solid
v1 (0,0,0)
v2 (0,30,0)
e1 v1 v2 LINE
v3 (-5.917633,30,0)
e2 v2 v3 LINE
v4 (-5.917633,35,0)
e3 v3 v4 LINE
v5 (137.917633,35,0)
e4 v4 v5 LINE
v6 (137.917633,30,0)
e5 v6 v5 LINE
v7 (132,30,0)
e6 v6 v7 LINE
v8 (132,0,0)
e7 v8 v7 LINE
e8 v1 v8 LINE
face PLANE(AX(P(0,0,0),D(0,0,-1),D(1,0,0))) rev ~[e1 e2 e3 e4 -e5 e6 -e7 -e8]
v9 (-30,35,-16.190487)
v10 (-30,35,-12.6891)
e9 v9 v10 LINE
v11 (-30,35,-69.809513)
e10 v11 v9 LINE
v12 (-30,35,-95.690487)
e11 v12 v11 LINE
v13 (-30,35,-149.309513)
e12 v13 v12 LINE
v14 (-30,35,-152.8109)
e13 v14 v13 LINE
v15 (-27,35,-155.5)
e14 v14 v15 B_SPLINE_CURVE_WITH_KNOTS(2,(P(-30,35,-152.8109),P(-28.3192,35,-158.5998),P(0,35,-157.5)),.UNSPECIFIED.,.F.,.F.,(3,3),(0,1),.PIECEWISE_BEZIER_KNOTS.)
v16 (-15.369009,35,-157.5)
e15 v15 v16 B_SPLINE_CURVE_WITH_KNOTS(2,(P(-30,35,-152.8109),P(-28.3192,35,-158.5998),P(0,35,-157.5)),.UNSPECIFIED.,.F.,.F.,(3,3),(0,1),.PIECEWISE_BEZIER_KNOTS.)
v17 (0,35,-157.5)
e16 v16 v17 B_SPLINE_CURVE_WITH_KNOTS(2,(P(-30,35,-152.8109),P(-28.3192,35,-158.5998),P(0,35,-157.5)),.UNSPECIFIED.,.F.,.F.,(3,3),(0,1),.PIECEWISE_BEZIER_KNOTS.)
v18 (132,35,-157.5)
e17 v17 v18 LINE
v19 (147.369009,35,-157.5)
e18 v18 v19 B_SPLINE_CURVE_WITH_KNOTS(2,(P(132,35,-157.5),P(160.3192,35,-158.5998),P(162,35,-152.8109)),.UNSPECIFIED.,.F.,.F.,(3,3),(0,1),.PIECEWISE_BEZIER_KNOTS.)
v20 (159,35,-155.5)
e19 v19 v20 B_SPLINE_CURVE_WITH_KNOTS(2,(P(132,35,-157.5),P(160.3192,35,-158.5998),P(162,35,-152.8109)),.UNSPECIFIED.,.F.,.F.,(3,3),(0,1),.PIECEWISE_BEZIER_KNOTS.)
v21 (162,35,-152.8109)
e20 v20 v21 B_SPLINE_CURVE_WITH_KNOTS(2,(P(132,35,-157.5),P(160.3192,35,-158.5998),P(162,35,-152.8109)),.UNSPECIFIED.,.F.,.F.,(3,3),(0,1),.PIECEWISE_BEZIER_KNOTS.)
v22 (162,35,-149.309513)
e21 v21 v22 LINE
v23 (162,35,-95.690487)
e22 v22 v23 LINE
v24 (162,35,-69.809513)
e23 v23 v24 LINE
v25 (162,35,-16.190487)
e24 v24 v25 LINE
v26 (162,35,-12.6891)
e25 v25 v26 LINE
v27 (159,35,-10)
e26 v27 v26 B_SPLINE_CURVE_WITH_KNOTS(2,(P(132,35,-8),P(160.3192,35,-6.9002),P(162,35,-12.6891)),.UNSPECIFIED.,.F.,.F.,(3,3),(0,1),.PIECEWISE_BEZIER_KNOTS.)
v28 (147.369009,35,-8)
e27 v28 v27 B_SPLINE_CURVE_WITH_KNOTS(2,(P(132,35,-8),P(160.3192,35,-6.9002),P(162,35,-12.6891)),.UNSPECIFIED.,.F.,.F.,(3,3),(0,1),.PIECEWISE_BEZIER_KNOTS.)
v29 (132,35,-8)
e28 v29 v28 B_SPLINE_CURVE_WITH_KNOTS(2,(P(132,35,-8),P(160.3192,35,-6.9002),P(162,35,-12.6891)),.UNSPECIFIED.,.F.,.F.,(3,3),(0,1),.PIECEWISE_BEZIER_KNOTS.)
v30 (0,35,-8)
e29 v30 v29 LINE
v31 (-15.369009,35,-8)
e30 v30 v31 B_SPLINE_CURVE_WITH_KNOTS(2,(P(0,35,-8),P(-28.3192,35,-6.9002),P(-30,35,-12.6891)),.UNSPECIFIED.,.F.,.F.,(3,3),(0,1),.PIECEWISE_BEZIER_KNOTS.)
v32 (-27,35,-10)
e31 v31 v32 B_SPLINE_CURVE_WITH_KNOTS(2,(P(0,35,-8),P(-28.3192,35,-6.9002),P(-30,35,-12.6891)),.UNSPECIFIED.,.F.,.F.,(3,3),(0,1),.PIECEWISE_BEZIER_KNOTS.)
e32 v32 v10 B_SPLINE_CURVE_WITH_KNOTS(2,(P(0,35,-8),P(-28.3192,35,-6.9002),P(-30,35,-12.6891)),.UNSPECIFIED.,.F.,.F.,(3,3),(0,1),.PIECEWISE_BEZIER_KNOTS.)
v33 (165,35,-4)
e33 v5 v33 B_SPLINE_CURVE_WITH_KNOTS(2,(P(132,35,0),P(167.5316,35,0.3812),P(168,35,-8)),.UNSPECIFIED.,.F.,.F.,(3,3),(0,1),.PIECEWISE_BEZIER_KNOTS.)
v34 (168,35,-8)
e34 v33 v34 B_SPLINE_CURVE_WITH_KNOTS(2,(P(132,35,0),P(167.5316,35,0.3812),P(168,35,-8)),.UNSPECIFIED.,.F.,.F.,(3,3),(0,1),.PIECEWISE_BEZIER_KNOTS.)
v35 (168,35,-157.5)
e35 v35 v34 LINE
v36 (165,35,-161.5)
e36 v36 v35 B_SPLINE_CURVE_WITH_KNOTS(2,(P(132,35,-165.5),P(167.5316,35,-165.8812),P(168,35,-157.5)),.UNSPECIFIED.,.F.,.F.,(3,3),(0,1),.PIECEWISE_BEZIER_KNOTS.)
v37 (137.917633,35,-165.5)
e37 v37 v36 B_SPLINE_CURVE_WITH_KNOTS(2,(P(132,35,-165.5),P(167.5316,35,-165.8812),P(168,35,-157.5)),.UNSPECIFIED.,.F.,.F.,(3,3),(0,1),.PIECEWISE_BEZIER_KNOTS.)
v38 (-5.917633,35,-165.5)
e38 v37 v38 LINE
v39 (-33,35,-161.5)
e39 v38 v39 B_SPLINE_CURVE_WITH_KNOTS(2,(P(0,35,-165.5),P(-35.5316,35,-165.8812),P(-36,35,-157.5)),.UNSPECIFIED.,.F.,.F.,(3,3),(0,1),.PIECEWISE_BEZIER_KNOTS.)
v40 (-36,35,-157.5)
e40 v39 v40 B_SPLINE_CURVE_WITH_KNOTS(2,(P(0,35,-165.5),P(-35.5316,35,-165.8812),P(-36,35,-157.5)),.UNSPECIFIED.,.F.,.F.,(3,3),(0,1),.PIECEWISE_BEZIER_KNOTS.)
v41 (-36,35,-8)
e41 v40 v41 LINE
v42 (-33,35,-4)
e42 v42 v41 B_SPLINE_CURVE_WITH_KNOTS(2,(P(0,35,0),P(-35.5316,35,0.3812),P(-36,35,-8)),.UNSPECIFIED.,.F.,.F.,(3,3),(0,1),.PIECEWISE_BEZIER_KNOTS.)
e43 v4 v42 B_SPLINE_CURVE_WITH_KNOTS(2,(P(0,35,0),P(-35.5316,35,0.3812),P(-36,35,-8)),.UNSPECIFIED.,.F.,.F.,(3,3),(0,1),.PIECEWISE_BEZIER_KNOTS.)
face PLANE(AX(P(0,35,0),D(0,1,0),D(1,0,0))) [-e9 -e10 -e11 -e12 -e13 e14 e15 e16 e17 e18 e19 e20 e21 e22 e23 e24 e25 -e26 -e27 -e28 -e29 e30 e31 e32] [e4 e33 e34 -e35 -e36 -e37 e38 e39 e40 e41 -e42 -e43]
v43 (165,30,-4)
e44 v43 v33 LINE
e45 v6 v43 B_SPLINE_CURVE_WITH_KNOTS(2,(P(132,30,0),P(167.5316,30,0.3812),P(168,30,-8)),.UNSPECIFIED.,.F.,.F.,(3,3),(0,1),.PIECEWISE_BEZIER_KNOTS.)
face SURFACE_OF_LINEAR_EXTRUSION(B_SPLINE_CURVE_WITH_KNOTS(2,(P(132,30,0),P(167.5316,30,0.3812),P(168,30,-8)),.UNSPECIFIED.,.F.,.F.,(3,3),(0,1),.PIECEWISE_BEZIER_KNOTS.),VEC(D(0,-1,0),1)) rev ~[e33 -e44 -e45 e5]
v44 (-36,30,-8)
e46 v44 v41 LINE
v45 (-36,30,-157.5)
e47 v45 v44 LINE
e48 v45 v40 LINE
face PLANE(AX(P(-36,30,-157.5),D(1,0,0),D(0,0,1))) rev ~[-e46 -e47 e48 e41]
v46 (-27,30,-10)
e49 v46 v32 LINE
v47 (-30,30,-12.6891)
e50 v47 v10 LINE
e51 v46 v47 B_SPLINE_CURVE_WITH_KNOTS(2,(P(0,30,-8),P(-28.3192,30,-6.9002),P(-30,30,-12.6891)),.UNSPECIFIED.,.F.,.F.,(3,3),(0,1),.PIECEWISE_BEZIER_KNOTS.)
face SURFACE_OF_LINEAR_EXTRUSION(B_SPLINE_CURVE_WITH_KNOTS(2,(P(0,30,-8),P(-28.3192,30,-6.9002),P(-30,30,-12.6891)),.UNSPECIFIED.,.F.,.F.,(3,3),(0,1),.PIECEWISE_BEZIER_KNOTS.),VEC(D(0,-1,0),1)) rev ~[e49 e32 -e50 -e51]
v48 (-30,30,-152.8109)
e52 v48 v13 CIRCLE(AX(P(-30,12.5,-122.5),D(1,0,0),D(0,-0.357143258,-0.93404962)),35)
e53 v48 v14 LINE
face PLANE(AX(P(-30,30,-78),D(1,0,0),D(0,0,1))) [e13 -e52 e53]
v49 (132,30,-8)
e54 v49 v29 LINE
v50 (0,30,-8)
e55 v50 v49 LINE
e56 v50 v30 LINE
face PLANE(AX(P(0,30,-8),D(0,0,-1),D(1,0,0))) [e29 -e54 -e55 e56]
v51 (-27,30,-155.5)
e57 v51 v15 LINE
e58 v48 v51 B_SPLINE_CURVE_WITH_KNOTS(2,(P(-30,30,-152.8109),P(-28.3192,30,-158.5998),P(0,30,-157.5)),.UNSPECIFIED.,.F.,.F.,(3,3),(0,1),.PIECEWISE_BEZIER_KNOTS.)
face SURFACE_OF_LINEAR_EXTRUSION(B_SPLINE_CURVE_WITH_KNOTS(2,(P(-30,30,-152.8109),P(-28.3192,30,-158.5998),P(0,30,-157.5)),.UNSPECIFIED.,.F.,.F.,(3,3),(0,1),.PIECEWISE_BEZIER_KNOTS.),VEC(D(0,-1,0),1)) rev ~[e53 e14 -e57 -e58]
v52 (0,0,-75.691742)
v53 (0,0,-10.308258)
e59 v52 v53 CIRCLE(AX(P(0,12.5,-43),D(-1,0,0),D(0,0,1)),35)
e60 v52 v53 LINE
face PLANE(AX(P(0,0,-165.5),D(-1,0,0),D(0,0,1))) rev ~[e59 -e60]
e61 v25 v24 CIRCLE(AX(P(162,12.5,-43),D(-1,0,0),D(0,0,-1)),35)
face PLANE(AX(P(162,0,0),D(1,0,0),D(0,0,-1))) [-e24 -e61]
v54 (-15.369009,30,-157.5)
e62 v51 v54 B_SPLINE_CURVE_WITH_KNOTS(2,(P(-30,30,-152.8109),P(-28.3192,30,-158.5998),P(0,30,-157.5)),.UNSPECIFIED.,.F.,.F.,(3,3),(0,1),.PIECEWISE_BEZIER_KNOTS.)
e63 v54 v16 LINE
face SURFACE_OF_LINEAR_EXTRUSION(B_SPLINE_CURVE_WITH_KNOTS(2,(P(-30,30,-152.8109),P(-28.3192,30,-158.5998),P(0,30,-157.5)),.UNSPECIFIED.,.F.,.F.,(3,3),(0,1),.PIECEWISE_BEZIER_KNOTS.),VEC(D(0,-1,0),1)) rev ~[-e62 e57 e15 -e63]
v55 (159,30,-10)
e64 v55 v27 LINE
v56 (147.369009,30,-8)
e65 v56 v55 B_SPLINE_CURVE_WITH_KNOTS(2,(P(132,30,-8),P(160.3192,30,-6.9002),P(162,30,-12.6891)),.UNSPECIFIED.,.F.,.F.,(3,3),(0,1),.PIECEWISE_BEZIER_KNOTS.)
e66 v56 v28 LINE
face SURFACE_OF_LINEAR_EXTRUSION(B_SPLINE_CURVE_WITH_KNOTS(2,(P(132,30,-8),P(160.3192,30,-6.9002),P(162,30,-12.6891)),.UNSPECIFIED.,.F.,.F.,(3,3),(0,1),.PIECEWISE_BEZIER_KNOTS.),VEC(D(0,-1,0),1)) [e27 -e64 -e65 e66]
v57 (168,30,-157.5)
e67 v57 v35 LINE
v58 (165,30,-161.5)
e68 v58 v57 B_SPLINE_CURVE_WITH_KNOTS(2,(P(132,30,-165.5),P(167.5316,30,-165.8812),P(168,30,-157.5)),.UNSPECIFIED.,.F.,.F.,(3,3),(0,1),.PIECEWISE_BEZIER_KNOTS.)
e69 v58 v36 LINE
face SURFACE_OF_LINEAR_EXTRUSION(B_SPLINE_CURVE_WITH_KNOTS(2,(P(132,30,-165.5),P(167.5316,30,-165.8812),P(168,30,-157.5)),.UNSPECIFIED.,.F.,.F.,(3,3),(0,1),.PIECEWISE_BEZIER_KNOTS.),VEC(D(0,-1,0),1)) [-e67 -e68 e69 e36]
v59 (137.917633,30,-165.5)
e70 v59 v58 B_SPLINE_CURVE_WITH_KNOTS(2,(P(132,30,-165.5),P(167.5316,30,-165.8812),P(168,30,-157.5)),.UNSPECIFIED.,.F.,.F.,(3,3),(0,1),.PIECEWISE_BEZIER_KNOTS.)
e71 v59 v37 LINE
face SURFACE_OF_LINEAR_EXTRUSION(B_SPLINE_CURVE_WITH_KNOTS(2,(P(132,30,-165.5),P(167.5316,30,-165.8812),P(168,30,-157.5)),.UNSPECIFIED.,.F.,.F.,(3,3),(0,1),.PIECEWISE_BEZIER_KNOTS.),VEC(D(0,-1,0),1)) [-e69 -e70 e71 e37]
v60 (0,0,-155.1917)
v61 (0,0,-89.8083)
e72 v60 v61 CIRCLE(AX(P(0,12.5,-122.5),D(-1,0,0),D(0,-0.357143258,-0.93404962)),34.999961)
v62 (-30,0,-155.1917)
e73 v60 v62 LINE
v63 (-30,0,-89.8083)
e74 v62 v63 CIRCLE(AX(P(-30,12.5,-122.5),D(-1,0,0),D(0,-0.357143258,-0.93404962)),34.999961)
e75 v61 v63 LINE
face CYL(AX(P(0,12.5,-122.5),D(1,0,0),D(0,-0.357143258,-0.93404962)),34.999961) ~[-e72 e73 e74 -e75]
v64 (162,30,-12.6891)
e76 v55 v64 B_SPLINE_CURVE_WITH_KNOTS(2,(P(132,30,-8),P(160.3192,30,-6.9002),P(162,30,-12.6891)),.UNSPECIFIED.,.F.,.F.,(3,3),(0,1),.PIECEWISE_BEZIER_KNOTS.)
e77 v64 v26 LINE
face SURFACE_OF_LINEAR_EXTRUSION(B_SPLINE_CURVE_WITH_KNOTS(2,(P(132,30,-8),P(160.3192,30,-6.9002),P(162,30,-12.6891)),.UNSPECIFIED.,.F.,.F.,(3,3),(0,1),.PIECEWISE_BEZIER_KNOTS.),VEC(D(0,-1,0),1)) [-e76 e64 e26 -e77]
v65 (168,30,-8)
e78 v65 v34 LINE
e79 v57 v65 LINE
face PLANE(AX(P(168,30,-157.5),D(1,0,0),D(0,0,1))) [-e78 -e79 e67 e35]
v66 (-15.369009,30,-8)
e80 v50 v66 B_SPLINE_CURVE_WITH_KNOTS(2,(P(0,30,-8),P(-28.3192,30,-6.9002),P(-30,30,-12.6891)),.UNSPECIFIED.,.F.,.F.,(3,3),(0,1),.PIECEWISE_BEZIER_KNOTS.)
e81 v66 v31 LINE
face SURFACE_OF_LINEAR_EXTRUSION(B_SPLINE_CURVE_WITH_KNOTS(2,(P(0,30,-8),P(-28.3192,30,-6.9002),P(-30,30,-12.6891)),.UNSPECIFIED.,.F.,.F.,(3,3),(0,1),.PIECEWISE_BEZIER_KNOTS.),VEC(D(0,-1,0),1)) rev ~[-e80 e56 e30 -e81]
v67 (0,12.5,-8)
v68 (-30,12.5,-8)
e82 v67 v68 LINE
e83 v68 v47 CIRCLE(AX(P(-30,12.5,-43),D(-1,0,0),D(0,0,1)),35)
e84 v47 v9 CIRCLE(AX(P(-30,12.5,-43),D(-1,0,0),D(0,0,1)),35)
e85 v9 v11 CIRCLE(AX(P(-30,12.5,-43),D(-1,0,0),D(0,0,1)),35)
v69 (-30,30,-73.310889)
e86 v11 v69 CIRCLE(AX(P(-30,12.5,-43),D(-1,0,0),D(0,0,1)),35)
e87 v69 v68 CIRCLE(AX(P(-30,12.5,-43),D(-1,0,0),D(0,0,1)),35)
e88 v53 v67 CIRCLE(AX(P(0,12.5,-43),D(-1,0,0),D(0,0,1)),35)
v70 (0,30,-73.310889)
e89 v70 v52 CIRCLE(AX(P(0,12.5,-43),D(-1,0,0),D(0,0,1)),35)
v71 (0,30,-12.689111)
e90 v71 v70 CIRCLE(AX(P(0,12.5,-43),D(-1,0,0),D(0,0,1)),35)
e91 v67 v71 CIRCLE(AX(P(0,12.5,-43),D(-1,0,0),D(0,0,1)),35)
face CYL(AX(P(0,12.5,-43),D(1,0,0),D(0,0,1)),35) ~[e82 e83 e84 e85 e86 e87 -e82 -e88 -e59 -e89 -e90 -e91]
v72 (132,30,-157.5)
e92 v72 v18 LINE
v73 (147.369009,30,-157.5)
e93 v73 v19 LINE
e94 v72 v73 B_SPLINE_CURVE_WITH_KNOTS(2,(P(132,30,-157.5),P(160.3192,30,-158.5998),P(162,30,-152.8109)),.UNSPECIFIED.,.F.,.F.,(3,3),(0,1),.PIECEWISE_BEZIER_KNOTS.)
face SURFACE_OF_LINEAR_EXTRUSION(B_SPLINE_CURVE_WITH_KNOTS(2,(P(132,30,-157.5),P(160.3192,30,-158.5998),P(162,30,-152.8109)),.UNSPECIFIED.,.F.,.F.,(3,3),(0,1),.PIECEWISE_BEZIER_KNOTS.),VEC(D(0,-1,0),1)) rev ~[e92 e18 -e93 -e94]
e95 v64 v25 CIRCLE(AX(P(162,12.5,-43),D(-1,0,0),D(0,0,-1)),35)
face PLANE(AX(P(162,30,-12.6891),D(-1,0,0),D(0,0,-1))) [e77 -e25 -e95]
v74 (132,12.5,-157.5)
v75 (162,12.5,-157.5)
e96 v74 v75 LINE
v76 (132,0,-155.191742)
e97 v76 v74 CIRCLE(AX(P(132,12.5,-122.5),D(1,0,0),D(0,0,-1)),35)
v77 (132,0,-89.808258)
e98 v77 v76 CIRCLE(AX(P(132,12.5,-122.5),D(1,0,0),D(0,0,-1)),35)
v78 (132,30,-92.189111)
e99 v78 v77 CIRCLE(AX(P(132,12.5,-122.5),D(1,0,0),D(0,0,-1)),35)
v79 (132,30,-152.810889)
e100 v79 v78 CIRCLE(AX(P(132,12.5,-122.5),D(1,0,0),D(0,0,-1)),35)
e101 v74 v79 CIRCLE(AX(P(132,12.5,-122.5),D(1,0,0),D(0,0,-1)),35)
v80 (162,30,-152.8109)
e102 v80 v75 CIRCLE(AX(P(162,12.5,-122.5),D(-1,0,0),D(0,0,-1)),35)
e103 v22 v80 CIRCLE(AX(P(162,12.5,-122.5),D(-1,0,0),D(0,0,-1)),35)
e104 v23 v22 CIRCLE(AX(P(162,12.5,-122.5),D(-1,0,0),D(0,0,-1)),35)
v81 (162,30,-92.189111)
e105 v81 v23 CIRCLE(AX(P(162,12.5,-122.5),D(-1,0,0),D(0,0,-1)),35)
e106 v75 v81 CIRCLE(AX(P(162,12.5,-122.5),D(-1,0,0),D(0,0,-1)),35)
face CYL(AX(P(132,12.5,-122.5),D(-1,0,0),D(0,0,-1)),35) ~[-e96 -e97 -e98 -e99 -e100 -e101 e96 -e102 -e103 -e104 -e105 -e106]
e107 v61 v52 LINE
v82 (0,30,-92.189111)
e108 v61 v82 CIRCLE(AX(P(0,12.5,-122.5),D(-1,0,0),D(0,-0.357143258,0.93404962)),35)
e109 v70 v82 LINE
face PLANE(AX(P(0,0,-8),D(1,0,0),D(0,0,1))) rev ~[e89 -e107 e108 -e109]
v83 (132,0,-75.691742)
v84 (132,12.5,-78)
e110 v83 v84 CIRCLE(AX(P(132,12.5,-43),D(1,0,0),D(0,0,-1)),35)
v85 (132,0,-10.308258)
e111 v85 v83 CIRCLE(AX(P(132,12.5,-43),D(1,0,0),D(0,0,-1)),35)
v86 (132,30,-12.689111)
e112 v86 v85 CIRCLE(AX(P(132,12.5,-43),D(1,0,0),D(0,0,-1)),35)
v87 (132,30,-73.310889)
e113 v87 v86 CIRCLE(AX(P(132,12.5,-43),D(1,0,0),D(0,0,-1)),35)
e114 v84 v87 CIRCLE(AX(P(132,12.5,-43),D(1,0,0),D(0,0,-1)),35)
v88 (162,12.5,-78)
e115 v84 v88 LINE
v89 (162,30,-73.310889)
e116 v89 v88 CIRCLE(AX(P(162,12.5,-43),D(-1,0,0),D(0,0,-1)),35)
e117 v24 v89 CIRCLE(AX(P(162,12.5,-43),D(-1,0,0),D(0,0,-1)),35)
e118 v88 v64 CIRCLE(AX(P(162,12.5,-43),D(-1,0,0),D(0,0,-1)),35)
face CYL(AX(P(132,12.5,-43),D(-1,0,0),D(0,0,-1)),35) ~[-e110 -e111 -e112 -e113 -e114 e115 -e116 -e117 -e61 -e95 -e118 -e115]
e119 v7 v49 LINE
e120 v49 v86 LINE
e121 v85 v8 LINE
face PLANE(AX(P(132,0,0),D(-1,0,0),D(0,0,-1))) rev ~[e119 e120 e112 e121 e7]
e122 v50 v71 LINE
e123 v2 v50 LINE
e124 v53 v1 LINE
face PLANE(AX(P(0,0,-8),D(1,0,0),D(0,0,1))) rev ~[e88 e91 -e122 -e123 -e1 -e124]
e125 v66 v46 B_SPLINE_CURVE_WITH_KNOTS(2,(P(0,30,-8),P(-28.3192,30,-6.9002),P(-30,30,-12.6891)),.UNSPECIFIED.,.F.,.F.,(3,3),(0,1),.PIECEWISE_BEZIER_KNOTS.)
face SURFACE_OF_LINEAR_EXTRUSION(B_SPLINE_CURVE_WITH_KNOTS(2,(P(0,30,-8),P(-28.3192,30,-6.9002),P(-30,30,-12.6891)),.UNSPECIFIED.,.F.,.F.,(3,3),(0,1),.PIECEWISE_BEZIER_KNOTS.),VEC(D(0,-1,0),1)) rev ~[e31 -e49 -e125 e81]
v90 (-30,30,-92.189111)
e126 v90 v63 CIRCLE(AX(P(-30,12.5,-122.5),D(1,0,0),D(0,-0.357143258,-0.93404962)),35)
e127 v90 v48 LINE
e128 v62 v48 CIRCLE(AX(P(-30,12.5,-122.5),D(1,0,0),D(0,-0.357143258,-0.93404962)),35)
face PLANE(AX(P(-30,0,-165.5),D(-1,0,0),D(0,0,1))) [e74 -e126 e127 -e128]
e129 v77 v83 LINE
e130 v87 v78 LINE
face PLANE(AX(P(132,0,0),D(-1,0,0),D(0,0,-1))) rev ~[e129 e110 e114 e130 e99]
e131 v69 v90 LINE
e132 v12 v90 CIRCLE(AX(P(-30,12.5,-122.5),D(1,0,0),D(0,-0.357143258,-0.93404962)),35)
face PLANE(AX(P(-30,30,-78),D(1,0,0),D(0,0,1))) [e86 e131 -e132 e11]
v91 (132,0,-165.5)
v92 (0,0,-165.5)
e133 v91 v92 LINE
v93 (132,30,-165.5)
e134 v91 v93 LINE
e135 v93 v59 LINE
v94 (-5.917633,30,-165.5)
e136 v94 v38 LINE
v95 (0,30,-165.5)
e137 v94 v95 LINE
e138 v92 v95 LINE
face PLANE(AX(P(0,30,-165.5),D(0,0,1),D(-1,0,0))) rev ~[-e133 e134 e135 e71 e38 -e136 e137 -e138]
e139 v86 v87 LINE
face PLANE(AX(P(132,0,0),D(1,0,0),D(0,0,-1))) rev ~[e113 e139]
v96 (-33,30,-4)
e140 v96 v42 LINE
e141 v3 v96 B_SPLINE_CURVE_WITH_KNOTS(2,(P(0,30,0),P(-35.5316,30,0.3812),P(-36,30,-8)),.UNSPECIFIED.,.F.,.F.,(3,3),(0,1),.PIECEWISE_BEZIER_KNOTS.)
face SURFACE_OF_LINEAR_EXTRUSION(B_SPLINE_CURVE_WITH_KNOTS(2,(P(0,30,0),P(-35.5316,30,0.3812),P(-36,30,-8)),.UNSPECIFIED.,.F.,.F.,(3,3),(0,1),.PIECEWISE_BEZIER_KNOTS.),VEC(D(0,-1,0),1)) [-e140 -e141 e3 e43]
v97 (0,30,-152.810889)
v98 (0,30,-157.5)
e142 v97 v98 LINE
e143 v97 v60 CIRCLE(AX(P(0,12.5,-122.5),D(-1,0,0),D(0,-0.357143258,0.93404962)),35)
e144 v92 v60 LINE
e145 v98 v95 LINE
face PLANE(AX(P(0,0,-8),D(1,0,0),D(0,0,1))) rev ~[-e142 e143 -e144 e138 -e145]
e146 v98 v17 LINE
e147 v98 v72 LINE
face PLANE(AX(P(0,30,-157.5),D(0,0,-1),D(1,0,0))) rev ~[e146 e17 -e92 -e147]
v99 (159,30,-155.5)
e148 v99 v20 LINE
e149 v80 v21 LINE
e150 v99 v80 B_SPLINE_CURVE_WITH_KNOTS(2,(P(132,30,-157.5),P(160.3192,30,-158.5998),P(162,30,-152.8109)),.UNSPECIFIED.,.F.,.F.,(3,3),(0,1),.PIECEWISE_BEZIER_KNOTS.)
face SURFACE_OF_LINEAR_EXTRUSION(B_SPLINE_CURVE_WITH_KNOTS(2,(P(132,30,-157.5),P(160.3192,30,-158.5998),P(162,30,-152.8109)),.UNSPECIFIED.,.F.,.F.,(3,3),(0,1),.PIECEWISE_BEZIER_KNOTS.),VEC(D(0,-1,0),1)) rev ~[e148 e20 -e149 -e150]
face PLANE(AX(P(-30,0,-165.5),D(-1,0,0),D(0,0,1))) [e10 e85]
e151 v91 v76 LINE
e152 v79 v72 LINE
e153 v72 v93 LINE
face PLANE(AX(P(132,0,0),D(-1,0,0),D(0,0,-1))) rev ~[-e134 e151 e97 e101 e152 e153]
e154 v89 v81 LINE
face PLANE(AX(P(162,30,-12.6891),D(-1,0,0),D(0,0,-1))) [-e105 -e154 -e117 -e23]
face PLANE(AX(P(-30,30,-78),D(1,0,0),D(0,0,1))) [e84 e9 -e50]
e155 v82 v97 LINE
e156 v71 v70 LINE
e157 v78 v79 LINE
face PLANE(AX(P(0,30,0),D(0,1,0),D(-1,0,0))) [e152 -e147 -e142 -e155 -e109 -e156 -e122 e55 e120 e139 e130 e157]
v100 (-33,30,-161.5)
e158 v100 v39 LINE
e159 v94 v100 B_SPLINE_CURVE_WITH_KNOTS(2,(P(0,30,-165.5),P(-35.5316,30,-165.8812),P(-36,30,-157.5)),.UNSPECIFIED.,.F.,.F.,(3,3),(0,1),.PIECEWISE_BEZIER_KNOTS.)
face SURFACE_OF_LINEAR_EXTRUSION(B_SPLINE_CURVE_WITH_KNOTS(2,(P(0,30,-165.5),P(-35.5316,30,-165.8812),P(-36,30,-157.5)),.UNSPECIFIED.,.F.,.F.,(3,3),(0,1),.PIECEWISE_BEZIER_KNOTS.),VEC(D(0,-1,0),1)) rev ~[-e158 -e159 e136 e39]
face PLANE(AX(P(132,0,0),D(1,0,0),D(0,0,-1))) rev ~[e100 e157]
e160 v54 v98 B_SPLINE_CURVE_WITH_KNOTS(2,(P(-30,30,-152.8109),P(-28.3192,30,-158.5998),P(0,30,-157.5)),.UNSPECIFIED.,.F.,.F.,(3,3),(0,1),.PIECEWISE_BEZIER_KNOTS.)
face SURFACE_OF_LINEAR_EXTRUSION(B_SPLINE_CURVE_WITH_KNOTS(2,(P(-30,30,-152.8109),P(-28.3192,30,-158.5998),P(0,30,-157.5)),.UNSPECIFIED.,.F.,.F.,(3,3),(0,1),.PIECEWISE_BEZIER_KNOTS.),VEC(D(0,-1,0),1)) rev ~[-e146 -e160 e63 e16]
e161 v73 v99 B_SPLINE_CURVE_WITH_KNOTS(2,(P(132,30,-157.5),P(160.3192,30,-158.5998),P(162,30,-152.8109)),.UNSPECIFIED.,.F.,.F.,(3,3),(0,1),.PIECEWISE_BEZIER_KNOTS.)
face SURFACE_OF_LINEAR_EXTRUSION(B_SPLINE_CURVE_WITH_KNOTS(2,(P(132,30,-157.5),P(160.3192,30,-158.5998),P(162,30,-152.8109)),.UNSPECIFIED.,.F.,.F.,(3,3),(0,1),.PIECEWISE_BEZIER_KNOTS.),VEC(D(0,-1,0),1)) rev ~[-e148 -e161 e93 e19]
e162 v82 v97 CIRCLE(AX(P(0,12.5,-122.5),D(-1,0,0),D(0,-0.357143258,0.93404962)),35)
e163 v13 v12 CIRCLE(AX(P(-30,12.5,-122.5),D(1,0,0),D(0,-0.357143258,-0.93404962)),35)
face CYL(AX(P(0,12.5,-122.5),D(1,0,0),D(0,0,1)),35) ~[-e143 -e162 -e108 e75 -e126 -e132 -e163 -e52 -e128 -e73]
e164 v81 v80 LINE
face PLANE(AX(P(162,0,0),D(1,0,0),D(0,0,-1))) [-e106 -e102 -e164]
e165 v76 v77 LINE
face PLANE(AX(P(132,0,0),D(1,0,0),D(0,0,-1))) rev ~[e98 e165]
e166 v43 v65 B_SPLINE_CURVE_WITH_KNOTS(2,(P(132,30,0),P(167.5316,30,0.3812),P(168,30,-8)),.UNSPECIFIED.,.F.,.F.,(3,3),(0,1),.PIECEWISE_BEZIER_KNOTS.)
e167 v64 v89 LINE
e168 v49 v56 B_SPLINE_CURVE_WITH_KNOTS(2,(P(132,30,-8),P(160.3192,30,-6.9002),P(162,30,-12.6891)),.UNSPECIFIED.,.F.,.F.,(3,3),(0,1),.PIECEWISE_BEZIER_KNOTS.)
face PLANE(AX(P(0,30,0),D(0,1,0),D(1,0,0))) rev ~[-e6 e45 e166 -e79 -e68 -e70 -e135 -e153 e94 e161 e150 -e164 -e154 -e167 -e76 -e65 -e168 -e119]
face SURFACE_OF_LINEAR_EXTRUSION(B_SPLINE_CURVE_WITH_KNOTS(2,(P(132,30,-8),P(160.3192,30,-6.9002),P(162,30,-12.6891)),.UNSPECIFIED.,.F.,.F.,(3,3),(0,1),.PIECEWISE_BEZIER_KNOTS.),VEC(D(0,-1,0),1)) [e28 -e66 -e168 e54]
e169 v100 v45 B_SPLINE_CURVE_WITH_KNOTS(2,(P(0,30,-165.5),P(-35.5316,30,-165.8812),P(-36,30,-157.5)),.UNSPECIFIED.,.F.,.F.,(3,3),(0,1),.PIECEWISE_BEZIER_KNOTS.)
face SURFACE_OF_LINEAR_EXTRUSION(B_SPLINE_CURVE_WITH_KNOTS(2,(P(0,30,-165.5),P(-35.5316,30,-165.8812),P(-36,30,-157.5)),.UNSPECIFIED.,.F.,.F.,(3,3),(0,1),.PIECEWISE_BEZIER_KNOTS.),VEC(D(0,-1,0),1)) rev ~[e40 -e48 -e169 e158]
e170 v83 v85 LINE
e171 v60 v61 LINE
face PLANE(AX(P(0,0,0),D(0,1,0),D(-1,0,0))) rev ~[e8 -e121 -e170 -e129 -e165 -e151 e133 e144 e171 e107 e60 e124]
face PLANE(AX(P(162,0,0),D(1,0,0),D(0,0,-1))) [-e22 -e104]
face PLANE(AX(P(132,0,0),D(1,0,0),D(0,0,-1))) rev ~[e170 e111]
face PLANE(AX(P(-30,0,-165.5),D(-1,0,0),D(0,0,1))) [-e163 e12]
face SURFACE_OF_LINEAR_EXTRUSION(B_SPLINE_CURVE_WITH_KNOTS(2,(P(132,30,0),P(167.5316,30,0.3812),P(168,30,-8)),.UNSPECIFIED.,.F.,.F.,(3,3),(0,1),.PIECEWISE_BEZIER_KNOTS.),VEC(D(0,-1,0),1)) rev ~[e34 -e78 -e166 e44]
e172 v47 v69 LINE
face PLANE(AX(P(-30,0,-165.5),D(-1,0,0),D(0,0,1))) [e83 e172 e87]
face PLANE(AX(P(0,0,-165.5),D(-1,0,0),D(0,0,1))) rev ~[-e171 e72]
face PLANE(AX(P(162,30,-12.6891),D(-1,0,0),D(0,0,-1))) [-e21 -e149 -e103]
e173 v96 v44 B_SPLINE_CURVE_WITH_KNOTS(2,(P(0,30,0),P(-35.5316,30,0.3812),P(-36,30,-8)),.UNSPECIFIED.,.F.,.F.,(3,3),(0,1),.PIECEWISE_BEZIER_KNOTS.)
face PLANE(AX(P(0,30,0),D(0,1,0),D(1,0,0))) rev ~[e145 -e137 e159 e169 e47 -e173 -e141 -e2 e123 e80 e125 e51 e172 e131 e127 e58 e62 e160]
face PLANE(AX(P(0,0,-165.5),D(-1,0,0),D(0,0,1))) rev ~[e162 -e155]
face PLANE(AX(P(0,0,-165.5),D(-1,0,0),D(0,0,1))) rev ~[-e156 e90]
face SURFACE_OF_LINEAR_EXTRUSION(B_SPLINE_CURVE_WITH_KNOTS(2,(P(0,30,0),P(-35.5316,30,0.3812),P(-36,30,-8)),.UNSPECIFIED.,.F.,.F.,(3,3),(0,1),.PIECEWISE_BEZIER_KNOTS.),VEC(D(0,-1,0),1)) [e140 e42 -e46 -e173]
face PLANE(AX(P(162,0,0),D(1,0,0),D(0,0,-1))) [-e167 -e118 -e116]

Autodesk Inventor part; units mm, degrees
ref_plane "YZ Plane" through (0, 0, 0) normal (1, 0, 0) x (0, 1, 0)
ref_plane "XZ Plane" through (0, 0, 0) normal (0, 1, 0) x (-1, 0, 0)
ref_plane "XY Plane" through (0, 0, 0) normal (0, 0, 1) x (1, 0, 0)
sketch "Эскиз1" plane through (0, 0, 0) normal (0, 1, 0) x (-1, 0, 0)
  line L0 (0, 0) -> (-132, 0)
  line L1 (-132, 0) -> (-132, -165.5)
  line L2 (-132, -165.5) -> (0, -165.5)
  line L3 (0, -165.5) -> (0, 0)
  line L4 (0, 0) -> (-132, 0)
  line L5 (-132, 0) -> (-132, -8)
  line L6 (-132, -8) -> (0, -8)
  line L7 (0, -8) -> (0, 0)
  line L8 (0, -165.5) -> (-132, -165.5)
  line L9 (-132, -165.5) -> (-132, -157.5)
  line L10 (-132, -157.5) -> (0, -157.5)
  line L11 (0, -157.5) -> (0, -165.5)
  line L12 (0, 0) -> (0, -43)
  line L13 (0, -43) -> (0, -8)
  line L14 (0, -8) -> (30, -8)
  line L15 (30, -8) -> (30, -78)
  line L16 (30, -78) -> (0, -78)
  line L17 (0, -78) -> (0, -8)
  line L18 (0, -157.5) -> (30, -157.5)
  line L19 (30, -157.5) -> (30, -87.5)
  line L20 (30, -87.5) -> (0, -87.5)
  line L21 (0, -87.5) -> (0, -157.5)
  line L22 (-132, -8) -> (-162, -8)
  line L23 (-162, -8) -> (-162, -78)
  line L24 (-162, -78) -> (-132, -78)
  line L25 (-132, -78) -> (-132, -8)
  line L26 (-132, -157.5) -> (-162, -157.5)
  line L27 (-162, -157.5) -> (-162, -87.5)
  line L28 (-162, -87.5) -> (-132, -87.5)
  line L29 (-132, -87.5) -> (-132, -157.5)
  dimension "d0" = 132
  dimension "d1" = 165.5
  dimension "d2" = 8
  dimension "d3" = 8
  dimension "d4" = 43
  dimension "d5" = 35
  dimension "d6" = 30
  dimension "d7" = 70
  dimension "d8" = 30
  dimension "d9" = 70
  dimension "d10" = 30
  dimension "d11" = 70
  dimension "d12" = 30
  dimension "d13" = 70
extrude "Выдавливание1" add sketch "Эскиз1" along normal blind 30 contours L3 L6 L1 L0 | L3 L10 L1 L6 | L10 L3 L2 L1
sketch "Эскиз2" plane through (132, 0, 0) normal (1, 0, 0) x (0, 0, -1)
  line L0 (0, 0) -> (0, 30) projected
  line L1 (165.5, 0) -> (165.5, 30) projected
  line L2 (165.5, 0) -> (0, 0) projected
  line L3 (0, 0) -> (43, 0)
  line L4 (43, 0) -> (43, 4.5763)
  line L5 (43, 4.5763) -> (43, 30)
  line L6 (43, 0) -> (43, 12.5)
  line L7 (165.5, 0) -> (122.5, 0)
  line L8 (122.5, 0) -> (122.5, 12.5)
  line L9 (122.5, 12.5) -> (43, 12.5)
  circle A0 centre (43, 12.5) radius 35
  circle A1 centre (122.5, 12.5) radius 35
  dimension "d24" = 43
  dimension "d25" = 12.5
  dimension "d26" = 43
  dimension "d27" = 70
  dimension "d28" = 70
extrude "Выдавливание2" add sketch "Эскиз2" along normal blind 30 contours A1 L2 | L2 L8 L9 A1 | L2 A1 L9 L8 | A0 L2 | L2 L4 L5 L9 A0 | L2 A0 L9 L5 L4
sketch "Эскиз3" plane through (0, 0, -165.5) normal (-1, 0, 0) x (0, 0, 1)
  circle A0 centre (122.5, 12.5) radius 35 projected
  circle A1 centre (122.5, 12.5) radius 35
  arc A2 (10.3083, 0) -> (75.6917, 0) centre (43, 12.5) ccw projected
  circle A3 centre (43, 12.5) radius 35
  point P0 (165.5, 0)
  point P1 (122.5, 15)
  point P2 (43, 15)
  point P3 (75.6917, 0)
extrude "Выдавливание3" add sketch "Эскиз3" along normal blind 30
sketch "Эскиз4" plane through (0, 30, 0) normal (0, 1, 0) x (1, 0, 0)
  line L0 (-30, 78) -> (-30, 8) projected
  line L1 (-36, 8) -> (-36, 0)
  line L2 (132, 165.5) -> (0, 165.5) projected
  line L3 (-36, 0) -> (0, 0)
  line L4 (0, 0) -> (0, 165.5)
  line L5 (0, 165.5) -> (-36, 165.5)
  line L6 (-36, 165.5) -> (-36, 0)
  line L7 (132, 152.8109) -> (132, 165.5) projected
  line L8 (132, 165.5) -> (168, 165.5)
  line L9 (168, 165.5) -> (168, 0)
  line L10 (168, 0) -> (132, 0)
  line L11 (132, 0) -> (132, 165.5)
  line L12 (0, 8) -> (-30, 8) projected
  line L13 (-30, 157.5) -> (-30, 87.5) projected
  line L14 (0, 8) -> (-30, 8)
  line L15 (-30, 8) -> (-30, 157.5)
  line L16 (-30, 157.5) -> (0, 157.5)
  line L17 (0, 157.5) -> (0, 8)
  line L18 (162, 8) -> (162, 78) projected
  line L19 (132, 157.5) -> (162, 157.5)
  line L20 (162, 157.5) -> (162, 8)
  line L21 (162, 8) -> (132, 8)
  line L22 (132, 8) -> (132, 157.5)
  line L23 (168, 0) -> (-36, 0)
  line L24 (-36, 0) -> (-36, 165.5)
  line L25 (-36, 165.5) -> (168, 165.5)
  line L26 (168, 165.5) -> (168, 0)
  line L27 (0, 157.5) -> (132, 157.5)
  line L28 (132, 157.5) -> (132, 165.5)
  line L29 (132, 165.5) -> (0, 165.5)
  line L30 (0, 165.5) -> (0, 157.5)
  line L31 (0, 8) -> (0, 12.6891) projected
  line L32 (132, 0) -> (0, 0)
  line L33 (0, 0) -> (0, 8)
  line L34 (0, 8) -> (132, 8)
  line L35 (132, 8) -> (132, 0)
  line L36 (168, 165.5) -> (165, 165.5)
  line L37 (165, 165.5) -> (165, 161.5)
  line L38 (165, 161.5) -> (168, 161.5)
  line L39 (168, 161.5) -> (168, 165.5)
  line L40 (168, 0) -> (165, 0)
  line L41 (165, 0) -> (165, 4)
  line L42 (165, 4) -> (168, 4)
  line L43 (168, 4) -> (168, 0)
  line L44 (-36, 0) -> (-33, 0)
  line L45 (-33, 0) -> (-33, 4)
  line L46 (-33, 4) -> (-36, 4)
  line L47 (-36, 4) -> (-36, 0)
  line L48 (-36, 165.5) -> (-33, 165.5)
  line L49 (-33, 165.5) -> (-33, 161.5)
  line L50 (-33, 161.5) -> (-36, 161.5)
  line L51 (-36, 161.5) -> (-36, 165.5)
  line L52 (0, 165.5) -> (0, 155.1917) projected
  spline S0 degree 2 poles (0, 165.5) (-35.5316, 165.8812) (-36, 157.5) knots 0 0 0 1 1 1
  spline S1 degree 2 poles (132, 165.5) (167.5316, 165.8812) (168, 157.5) knots 0 0 0 1 1 1
  spline S2 degree 2 poles (132, 0) (167.5316, -0.3812) (168, 8) knots 0 0 0 1 1 1
  line L53 (0, 0) -> (132, 0) projected
  spline S3 degree 2 poles (0, 0) (-35.5316, -0.3812) (-36, 8) knots 0 0 0 1 1 1
  line L54 (-30, 8) -> (-27, 8)
  line L55 (-27, 8) -> (-27, 10)
  line L56 (-27, 10) -> (-30, 10)
  line L57 (-30, 10) -> (-30, 8)
  spline S4 degree 2 poles (0, 8) (-28.3192, 6.9002) (-30, 12.6891) knots 0 0 0 1 1 1
  line L58 (162, 8) -> (159, 8)
  line L59 (159, 8) -> (159, 10)
  line L60 (159, 10) -> (162, 10)
  line L61 (162, 10) -> (162, 8)
  line L62 (162, 157.5) -> (159, 157.5)
  line L63 (159, 157.5) -> (159, 155.5)
  line L64 (159, 155.5) -> (162, 155.5)
  line L65 (162, 155.5) -> (162, 157.5)
  line L66 (-30, 157.5) -> (-27, 157.5)
  line L67 (-27, 157.5) -> (-27, 155.5)
  line L68 (-27, 155.5) -> (-30, 155.5)
  line L69 (-30, 155.5) -> (-30, 157.5)
  spline S5 degree 2 poles (-30, 152.8109) (-28.3192, 158.5998) (0, 157.5) knots 0 0 0 1 1 1
  line L70 (162, 87.5) -> (162, 157.5) projected
  spline S6 degree 2 poles (132, 157.5) (160.3192, 158.5998) (162, 152.8109) knots 0 0 0 1 1 1
  spline S7 degree 2 poles (132, 8) (160.3192, 6.9002) (162, 12.6891) knots 0 0 0 1 1 1
  point P0 (0, 10.3083)
  point P1 (162, 152.8109)
  point P2 (137.9176, 0)
  point P3 (168, 8)
  point P4 (168, 157.5)
  point P5 (137.9176, 165.5)
  point P6 (-5.9176, 165.5)
  point P7 (-36, 157.5)
  point P8 (-5.9176, 0)
  point P9 (-30, 12.6891)
  point P10 (-30, 152.8109)
  dimension "d30" = 36
  dimension "d31" = 3
  dimension "d32" = 3
  dimension "d33" = 3
  dimension "d34" = 2
  dimension "d35" = 3
  dimension "d36" = 2
  dimension "d37" = 3
  dimension "d38" = 2
extrude "Выдавливание4" add sketch "Эскиз4" along normal blind 5 contours L0 L12 S4 L4 L3 S3 L6 S0 L5 S5 L16 L13 L15 | S4 L56 L0 | L56 L55 L12 L0 | S4 L12 L55 | L13 L68 S5 | L13 L16 L67 L68 | L67 L16 S5 | L34 L11 L23 L4 | S7 L21 L18 L20 L19 S6 L7 L8 S1 L9 S2 L10 L11 | L4 L2 L7 L27 | S7 L59 L21 | L59 L60 L18 L21 | S7 L18 L60 | L19 L63 S6 | L19 L20 L64 L63 | L64 L20 S6
sketch "Эскиз6" plane through (0, 30, 0) normal (0, 1, 0) x (1, 0, 0)
  line L0 (168, 8) -> (168, 157.5) projected
  line L1 (-36, 157.5) -> (-36, 8) projected
  line L2 (162, 16.1905) -> (162, 69.8095) projected
  line L3 (-30, 69.8095) -> (-30, 16.1905) projected
  line L4 (132, 12.6891) -> (132, 73.3109) projected
  line L5 (0, 73.3109) -> (0, 12.6891) projected
  line L6 (187.3576, 0) -> (377.3576, 0)
  line L7 (377.3576, 0) -> (377.3576, 165.5)
  line L8 (377.3576, 165.5) -> (187.3576, 165.5)
  line L9 (187.3576, 165.5) -> (187.3576, 0)
  point P0 (0, 0)
  dimension "d41" = 204
  dimension "d42" = 192
  dimension "d43" = 132
  dimension "d44" = 190
  dimension "d45" = 165.5
